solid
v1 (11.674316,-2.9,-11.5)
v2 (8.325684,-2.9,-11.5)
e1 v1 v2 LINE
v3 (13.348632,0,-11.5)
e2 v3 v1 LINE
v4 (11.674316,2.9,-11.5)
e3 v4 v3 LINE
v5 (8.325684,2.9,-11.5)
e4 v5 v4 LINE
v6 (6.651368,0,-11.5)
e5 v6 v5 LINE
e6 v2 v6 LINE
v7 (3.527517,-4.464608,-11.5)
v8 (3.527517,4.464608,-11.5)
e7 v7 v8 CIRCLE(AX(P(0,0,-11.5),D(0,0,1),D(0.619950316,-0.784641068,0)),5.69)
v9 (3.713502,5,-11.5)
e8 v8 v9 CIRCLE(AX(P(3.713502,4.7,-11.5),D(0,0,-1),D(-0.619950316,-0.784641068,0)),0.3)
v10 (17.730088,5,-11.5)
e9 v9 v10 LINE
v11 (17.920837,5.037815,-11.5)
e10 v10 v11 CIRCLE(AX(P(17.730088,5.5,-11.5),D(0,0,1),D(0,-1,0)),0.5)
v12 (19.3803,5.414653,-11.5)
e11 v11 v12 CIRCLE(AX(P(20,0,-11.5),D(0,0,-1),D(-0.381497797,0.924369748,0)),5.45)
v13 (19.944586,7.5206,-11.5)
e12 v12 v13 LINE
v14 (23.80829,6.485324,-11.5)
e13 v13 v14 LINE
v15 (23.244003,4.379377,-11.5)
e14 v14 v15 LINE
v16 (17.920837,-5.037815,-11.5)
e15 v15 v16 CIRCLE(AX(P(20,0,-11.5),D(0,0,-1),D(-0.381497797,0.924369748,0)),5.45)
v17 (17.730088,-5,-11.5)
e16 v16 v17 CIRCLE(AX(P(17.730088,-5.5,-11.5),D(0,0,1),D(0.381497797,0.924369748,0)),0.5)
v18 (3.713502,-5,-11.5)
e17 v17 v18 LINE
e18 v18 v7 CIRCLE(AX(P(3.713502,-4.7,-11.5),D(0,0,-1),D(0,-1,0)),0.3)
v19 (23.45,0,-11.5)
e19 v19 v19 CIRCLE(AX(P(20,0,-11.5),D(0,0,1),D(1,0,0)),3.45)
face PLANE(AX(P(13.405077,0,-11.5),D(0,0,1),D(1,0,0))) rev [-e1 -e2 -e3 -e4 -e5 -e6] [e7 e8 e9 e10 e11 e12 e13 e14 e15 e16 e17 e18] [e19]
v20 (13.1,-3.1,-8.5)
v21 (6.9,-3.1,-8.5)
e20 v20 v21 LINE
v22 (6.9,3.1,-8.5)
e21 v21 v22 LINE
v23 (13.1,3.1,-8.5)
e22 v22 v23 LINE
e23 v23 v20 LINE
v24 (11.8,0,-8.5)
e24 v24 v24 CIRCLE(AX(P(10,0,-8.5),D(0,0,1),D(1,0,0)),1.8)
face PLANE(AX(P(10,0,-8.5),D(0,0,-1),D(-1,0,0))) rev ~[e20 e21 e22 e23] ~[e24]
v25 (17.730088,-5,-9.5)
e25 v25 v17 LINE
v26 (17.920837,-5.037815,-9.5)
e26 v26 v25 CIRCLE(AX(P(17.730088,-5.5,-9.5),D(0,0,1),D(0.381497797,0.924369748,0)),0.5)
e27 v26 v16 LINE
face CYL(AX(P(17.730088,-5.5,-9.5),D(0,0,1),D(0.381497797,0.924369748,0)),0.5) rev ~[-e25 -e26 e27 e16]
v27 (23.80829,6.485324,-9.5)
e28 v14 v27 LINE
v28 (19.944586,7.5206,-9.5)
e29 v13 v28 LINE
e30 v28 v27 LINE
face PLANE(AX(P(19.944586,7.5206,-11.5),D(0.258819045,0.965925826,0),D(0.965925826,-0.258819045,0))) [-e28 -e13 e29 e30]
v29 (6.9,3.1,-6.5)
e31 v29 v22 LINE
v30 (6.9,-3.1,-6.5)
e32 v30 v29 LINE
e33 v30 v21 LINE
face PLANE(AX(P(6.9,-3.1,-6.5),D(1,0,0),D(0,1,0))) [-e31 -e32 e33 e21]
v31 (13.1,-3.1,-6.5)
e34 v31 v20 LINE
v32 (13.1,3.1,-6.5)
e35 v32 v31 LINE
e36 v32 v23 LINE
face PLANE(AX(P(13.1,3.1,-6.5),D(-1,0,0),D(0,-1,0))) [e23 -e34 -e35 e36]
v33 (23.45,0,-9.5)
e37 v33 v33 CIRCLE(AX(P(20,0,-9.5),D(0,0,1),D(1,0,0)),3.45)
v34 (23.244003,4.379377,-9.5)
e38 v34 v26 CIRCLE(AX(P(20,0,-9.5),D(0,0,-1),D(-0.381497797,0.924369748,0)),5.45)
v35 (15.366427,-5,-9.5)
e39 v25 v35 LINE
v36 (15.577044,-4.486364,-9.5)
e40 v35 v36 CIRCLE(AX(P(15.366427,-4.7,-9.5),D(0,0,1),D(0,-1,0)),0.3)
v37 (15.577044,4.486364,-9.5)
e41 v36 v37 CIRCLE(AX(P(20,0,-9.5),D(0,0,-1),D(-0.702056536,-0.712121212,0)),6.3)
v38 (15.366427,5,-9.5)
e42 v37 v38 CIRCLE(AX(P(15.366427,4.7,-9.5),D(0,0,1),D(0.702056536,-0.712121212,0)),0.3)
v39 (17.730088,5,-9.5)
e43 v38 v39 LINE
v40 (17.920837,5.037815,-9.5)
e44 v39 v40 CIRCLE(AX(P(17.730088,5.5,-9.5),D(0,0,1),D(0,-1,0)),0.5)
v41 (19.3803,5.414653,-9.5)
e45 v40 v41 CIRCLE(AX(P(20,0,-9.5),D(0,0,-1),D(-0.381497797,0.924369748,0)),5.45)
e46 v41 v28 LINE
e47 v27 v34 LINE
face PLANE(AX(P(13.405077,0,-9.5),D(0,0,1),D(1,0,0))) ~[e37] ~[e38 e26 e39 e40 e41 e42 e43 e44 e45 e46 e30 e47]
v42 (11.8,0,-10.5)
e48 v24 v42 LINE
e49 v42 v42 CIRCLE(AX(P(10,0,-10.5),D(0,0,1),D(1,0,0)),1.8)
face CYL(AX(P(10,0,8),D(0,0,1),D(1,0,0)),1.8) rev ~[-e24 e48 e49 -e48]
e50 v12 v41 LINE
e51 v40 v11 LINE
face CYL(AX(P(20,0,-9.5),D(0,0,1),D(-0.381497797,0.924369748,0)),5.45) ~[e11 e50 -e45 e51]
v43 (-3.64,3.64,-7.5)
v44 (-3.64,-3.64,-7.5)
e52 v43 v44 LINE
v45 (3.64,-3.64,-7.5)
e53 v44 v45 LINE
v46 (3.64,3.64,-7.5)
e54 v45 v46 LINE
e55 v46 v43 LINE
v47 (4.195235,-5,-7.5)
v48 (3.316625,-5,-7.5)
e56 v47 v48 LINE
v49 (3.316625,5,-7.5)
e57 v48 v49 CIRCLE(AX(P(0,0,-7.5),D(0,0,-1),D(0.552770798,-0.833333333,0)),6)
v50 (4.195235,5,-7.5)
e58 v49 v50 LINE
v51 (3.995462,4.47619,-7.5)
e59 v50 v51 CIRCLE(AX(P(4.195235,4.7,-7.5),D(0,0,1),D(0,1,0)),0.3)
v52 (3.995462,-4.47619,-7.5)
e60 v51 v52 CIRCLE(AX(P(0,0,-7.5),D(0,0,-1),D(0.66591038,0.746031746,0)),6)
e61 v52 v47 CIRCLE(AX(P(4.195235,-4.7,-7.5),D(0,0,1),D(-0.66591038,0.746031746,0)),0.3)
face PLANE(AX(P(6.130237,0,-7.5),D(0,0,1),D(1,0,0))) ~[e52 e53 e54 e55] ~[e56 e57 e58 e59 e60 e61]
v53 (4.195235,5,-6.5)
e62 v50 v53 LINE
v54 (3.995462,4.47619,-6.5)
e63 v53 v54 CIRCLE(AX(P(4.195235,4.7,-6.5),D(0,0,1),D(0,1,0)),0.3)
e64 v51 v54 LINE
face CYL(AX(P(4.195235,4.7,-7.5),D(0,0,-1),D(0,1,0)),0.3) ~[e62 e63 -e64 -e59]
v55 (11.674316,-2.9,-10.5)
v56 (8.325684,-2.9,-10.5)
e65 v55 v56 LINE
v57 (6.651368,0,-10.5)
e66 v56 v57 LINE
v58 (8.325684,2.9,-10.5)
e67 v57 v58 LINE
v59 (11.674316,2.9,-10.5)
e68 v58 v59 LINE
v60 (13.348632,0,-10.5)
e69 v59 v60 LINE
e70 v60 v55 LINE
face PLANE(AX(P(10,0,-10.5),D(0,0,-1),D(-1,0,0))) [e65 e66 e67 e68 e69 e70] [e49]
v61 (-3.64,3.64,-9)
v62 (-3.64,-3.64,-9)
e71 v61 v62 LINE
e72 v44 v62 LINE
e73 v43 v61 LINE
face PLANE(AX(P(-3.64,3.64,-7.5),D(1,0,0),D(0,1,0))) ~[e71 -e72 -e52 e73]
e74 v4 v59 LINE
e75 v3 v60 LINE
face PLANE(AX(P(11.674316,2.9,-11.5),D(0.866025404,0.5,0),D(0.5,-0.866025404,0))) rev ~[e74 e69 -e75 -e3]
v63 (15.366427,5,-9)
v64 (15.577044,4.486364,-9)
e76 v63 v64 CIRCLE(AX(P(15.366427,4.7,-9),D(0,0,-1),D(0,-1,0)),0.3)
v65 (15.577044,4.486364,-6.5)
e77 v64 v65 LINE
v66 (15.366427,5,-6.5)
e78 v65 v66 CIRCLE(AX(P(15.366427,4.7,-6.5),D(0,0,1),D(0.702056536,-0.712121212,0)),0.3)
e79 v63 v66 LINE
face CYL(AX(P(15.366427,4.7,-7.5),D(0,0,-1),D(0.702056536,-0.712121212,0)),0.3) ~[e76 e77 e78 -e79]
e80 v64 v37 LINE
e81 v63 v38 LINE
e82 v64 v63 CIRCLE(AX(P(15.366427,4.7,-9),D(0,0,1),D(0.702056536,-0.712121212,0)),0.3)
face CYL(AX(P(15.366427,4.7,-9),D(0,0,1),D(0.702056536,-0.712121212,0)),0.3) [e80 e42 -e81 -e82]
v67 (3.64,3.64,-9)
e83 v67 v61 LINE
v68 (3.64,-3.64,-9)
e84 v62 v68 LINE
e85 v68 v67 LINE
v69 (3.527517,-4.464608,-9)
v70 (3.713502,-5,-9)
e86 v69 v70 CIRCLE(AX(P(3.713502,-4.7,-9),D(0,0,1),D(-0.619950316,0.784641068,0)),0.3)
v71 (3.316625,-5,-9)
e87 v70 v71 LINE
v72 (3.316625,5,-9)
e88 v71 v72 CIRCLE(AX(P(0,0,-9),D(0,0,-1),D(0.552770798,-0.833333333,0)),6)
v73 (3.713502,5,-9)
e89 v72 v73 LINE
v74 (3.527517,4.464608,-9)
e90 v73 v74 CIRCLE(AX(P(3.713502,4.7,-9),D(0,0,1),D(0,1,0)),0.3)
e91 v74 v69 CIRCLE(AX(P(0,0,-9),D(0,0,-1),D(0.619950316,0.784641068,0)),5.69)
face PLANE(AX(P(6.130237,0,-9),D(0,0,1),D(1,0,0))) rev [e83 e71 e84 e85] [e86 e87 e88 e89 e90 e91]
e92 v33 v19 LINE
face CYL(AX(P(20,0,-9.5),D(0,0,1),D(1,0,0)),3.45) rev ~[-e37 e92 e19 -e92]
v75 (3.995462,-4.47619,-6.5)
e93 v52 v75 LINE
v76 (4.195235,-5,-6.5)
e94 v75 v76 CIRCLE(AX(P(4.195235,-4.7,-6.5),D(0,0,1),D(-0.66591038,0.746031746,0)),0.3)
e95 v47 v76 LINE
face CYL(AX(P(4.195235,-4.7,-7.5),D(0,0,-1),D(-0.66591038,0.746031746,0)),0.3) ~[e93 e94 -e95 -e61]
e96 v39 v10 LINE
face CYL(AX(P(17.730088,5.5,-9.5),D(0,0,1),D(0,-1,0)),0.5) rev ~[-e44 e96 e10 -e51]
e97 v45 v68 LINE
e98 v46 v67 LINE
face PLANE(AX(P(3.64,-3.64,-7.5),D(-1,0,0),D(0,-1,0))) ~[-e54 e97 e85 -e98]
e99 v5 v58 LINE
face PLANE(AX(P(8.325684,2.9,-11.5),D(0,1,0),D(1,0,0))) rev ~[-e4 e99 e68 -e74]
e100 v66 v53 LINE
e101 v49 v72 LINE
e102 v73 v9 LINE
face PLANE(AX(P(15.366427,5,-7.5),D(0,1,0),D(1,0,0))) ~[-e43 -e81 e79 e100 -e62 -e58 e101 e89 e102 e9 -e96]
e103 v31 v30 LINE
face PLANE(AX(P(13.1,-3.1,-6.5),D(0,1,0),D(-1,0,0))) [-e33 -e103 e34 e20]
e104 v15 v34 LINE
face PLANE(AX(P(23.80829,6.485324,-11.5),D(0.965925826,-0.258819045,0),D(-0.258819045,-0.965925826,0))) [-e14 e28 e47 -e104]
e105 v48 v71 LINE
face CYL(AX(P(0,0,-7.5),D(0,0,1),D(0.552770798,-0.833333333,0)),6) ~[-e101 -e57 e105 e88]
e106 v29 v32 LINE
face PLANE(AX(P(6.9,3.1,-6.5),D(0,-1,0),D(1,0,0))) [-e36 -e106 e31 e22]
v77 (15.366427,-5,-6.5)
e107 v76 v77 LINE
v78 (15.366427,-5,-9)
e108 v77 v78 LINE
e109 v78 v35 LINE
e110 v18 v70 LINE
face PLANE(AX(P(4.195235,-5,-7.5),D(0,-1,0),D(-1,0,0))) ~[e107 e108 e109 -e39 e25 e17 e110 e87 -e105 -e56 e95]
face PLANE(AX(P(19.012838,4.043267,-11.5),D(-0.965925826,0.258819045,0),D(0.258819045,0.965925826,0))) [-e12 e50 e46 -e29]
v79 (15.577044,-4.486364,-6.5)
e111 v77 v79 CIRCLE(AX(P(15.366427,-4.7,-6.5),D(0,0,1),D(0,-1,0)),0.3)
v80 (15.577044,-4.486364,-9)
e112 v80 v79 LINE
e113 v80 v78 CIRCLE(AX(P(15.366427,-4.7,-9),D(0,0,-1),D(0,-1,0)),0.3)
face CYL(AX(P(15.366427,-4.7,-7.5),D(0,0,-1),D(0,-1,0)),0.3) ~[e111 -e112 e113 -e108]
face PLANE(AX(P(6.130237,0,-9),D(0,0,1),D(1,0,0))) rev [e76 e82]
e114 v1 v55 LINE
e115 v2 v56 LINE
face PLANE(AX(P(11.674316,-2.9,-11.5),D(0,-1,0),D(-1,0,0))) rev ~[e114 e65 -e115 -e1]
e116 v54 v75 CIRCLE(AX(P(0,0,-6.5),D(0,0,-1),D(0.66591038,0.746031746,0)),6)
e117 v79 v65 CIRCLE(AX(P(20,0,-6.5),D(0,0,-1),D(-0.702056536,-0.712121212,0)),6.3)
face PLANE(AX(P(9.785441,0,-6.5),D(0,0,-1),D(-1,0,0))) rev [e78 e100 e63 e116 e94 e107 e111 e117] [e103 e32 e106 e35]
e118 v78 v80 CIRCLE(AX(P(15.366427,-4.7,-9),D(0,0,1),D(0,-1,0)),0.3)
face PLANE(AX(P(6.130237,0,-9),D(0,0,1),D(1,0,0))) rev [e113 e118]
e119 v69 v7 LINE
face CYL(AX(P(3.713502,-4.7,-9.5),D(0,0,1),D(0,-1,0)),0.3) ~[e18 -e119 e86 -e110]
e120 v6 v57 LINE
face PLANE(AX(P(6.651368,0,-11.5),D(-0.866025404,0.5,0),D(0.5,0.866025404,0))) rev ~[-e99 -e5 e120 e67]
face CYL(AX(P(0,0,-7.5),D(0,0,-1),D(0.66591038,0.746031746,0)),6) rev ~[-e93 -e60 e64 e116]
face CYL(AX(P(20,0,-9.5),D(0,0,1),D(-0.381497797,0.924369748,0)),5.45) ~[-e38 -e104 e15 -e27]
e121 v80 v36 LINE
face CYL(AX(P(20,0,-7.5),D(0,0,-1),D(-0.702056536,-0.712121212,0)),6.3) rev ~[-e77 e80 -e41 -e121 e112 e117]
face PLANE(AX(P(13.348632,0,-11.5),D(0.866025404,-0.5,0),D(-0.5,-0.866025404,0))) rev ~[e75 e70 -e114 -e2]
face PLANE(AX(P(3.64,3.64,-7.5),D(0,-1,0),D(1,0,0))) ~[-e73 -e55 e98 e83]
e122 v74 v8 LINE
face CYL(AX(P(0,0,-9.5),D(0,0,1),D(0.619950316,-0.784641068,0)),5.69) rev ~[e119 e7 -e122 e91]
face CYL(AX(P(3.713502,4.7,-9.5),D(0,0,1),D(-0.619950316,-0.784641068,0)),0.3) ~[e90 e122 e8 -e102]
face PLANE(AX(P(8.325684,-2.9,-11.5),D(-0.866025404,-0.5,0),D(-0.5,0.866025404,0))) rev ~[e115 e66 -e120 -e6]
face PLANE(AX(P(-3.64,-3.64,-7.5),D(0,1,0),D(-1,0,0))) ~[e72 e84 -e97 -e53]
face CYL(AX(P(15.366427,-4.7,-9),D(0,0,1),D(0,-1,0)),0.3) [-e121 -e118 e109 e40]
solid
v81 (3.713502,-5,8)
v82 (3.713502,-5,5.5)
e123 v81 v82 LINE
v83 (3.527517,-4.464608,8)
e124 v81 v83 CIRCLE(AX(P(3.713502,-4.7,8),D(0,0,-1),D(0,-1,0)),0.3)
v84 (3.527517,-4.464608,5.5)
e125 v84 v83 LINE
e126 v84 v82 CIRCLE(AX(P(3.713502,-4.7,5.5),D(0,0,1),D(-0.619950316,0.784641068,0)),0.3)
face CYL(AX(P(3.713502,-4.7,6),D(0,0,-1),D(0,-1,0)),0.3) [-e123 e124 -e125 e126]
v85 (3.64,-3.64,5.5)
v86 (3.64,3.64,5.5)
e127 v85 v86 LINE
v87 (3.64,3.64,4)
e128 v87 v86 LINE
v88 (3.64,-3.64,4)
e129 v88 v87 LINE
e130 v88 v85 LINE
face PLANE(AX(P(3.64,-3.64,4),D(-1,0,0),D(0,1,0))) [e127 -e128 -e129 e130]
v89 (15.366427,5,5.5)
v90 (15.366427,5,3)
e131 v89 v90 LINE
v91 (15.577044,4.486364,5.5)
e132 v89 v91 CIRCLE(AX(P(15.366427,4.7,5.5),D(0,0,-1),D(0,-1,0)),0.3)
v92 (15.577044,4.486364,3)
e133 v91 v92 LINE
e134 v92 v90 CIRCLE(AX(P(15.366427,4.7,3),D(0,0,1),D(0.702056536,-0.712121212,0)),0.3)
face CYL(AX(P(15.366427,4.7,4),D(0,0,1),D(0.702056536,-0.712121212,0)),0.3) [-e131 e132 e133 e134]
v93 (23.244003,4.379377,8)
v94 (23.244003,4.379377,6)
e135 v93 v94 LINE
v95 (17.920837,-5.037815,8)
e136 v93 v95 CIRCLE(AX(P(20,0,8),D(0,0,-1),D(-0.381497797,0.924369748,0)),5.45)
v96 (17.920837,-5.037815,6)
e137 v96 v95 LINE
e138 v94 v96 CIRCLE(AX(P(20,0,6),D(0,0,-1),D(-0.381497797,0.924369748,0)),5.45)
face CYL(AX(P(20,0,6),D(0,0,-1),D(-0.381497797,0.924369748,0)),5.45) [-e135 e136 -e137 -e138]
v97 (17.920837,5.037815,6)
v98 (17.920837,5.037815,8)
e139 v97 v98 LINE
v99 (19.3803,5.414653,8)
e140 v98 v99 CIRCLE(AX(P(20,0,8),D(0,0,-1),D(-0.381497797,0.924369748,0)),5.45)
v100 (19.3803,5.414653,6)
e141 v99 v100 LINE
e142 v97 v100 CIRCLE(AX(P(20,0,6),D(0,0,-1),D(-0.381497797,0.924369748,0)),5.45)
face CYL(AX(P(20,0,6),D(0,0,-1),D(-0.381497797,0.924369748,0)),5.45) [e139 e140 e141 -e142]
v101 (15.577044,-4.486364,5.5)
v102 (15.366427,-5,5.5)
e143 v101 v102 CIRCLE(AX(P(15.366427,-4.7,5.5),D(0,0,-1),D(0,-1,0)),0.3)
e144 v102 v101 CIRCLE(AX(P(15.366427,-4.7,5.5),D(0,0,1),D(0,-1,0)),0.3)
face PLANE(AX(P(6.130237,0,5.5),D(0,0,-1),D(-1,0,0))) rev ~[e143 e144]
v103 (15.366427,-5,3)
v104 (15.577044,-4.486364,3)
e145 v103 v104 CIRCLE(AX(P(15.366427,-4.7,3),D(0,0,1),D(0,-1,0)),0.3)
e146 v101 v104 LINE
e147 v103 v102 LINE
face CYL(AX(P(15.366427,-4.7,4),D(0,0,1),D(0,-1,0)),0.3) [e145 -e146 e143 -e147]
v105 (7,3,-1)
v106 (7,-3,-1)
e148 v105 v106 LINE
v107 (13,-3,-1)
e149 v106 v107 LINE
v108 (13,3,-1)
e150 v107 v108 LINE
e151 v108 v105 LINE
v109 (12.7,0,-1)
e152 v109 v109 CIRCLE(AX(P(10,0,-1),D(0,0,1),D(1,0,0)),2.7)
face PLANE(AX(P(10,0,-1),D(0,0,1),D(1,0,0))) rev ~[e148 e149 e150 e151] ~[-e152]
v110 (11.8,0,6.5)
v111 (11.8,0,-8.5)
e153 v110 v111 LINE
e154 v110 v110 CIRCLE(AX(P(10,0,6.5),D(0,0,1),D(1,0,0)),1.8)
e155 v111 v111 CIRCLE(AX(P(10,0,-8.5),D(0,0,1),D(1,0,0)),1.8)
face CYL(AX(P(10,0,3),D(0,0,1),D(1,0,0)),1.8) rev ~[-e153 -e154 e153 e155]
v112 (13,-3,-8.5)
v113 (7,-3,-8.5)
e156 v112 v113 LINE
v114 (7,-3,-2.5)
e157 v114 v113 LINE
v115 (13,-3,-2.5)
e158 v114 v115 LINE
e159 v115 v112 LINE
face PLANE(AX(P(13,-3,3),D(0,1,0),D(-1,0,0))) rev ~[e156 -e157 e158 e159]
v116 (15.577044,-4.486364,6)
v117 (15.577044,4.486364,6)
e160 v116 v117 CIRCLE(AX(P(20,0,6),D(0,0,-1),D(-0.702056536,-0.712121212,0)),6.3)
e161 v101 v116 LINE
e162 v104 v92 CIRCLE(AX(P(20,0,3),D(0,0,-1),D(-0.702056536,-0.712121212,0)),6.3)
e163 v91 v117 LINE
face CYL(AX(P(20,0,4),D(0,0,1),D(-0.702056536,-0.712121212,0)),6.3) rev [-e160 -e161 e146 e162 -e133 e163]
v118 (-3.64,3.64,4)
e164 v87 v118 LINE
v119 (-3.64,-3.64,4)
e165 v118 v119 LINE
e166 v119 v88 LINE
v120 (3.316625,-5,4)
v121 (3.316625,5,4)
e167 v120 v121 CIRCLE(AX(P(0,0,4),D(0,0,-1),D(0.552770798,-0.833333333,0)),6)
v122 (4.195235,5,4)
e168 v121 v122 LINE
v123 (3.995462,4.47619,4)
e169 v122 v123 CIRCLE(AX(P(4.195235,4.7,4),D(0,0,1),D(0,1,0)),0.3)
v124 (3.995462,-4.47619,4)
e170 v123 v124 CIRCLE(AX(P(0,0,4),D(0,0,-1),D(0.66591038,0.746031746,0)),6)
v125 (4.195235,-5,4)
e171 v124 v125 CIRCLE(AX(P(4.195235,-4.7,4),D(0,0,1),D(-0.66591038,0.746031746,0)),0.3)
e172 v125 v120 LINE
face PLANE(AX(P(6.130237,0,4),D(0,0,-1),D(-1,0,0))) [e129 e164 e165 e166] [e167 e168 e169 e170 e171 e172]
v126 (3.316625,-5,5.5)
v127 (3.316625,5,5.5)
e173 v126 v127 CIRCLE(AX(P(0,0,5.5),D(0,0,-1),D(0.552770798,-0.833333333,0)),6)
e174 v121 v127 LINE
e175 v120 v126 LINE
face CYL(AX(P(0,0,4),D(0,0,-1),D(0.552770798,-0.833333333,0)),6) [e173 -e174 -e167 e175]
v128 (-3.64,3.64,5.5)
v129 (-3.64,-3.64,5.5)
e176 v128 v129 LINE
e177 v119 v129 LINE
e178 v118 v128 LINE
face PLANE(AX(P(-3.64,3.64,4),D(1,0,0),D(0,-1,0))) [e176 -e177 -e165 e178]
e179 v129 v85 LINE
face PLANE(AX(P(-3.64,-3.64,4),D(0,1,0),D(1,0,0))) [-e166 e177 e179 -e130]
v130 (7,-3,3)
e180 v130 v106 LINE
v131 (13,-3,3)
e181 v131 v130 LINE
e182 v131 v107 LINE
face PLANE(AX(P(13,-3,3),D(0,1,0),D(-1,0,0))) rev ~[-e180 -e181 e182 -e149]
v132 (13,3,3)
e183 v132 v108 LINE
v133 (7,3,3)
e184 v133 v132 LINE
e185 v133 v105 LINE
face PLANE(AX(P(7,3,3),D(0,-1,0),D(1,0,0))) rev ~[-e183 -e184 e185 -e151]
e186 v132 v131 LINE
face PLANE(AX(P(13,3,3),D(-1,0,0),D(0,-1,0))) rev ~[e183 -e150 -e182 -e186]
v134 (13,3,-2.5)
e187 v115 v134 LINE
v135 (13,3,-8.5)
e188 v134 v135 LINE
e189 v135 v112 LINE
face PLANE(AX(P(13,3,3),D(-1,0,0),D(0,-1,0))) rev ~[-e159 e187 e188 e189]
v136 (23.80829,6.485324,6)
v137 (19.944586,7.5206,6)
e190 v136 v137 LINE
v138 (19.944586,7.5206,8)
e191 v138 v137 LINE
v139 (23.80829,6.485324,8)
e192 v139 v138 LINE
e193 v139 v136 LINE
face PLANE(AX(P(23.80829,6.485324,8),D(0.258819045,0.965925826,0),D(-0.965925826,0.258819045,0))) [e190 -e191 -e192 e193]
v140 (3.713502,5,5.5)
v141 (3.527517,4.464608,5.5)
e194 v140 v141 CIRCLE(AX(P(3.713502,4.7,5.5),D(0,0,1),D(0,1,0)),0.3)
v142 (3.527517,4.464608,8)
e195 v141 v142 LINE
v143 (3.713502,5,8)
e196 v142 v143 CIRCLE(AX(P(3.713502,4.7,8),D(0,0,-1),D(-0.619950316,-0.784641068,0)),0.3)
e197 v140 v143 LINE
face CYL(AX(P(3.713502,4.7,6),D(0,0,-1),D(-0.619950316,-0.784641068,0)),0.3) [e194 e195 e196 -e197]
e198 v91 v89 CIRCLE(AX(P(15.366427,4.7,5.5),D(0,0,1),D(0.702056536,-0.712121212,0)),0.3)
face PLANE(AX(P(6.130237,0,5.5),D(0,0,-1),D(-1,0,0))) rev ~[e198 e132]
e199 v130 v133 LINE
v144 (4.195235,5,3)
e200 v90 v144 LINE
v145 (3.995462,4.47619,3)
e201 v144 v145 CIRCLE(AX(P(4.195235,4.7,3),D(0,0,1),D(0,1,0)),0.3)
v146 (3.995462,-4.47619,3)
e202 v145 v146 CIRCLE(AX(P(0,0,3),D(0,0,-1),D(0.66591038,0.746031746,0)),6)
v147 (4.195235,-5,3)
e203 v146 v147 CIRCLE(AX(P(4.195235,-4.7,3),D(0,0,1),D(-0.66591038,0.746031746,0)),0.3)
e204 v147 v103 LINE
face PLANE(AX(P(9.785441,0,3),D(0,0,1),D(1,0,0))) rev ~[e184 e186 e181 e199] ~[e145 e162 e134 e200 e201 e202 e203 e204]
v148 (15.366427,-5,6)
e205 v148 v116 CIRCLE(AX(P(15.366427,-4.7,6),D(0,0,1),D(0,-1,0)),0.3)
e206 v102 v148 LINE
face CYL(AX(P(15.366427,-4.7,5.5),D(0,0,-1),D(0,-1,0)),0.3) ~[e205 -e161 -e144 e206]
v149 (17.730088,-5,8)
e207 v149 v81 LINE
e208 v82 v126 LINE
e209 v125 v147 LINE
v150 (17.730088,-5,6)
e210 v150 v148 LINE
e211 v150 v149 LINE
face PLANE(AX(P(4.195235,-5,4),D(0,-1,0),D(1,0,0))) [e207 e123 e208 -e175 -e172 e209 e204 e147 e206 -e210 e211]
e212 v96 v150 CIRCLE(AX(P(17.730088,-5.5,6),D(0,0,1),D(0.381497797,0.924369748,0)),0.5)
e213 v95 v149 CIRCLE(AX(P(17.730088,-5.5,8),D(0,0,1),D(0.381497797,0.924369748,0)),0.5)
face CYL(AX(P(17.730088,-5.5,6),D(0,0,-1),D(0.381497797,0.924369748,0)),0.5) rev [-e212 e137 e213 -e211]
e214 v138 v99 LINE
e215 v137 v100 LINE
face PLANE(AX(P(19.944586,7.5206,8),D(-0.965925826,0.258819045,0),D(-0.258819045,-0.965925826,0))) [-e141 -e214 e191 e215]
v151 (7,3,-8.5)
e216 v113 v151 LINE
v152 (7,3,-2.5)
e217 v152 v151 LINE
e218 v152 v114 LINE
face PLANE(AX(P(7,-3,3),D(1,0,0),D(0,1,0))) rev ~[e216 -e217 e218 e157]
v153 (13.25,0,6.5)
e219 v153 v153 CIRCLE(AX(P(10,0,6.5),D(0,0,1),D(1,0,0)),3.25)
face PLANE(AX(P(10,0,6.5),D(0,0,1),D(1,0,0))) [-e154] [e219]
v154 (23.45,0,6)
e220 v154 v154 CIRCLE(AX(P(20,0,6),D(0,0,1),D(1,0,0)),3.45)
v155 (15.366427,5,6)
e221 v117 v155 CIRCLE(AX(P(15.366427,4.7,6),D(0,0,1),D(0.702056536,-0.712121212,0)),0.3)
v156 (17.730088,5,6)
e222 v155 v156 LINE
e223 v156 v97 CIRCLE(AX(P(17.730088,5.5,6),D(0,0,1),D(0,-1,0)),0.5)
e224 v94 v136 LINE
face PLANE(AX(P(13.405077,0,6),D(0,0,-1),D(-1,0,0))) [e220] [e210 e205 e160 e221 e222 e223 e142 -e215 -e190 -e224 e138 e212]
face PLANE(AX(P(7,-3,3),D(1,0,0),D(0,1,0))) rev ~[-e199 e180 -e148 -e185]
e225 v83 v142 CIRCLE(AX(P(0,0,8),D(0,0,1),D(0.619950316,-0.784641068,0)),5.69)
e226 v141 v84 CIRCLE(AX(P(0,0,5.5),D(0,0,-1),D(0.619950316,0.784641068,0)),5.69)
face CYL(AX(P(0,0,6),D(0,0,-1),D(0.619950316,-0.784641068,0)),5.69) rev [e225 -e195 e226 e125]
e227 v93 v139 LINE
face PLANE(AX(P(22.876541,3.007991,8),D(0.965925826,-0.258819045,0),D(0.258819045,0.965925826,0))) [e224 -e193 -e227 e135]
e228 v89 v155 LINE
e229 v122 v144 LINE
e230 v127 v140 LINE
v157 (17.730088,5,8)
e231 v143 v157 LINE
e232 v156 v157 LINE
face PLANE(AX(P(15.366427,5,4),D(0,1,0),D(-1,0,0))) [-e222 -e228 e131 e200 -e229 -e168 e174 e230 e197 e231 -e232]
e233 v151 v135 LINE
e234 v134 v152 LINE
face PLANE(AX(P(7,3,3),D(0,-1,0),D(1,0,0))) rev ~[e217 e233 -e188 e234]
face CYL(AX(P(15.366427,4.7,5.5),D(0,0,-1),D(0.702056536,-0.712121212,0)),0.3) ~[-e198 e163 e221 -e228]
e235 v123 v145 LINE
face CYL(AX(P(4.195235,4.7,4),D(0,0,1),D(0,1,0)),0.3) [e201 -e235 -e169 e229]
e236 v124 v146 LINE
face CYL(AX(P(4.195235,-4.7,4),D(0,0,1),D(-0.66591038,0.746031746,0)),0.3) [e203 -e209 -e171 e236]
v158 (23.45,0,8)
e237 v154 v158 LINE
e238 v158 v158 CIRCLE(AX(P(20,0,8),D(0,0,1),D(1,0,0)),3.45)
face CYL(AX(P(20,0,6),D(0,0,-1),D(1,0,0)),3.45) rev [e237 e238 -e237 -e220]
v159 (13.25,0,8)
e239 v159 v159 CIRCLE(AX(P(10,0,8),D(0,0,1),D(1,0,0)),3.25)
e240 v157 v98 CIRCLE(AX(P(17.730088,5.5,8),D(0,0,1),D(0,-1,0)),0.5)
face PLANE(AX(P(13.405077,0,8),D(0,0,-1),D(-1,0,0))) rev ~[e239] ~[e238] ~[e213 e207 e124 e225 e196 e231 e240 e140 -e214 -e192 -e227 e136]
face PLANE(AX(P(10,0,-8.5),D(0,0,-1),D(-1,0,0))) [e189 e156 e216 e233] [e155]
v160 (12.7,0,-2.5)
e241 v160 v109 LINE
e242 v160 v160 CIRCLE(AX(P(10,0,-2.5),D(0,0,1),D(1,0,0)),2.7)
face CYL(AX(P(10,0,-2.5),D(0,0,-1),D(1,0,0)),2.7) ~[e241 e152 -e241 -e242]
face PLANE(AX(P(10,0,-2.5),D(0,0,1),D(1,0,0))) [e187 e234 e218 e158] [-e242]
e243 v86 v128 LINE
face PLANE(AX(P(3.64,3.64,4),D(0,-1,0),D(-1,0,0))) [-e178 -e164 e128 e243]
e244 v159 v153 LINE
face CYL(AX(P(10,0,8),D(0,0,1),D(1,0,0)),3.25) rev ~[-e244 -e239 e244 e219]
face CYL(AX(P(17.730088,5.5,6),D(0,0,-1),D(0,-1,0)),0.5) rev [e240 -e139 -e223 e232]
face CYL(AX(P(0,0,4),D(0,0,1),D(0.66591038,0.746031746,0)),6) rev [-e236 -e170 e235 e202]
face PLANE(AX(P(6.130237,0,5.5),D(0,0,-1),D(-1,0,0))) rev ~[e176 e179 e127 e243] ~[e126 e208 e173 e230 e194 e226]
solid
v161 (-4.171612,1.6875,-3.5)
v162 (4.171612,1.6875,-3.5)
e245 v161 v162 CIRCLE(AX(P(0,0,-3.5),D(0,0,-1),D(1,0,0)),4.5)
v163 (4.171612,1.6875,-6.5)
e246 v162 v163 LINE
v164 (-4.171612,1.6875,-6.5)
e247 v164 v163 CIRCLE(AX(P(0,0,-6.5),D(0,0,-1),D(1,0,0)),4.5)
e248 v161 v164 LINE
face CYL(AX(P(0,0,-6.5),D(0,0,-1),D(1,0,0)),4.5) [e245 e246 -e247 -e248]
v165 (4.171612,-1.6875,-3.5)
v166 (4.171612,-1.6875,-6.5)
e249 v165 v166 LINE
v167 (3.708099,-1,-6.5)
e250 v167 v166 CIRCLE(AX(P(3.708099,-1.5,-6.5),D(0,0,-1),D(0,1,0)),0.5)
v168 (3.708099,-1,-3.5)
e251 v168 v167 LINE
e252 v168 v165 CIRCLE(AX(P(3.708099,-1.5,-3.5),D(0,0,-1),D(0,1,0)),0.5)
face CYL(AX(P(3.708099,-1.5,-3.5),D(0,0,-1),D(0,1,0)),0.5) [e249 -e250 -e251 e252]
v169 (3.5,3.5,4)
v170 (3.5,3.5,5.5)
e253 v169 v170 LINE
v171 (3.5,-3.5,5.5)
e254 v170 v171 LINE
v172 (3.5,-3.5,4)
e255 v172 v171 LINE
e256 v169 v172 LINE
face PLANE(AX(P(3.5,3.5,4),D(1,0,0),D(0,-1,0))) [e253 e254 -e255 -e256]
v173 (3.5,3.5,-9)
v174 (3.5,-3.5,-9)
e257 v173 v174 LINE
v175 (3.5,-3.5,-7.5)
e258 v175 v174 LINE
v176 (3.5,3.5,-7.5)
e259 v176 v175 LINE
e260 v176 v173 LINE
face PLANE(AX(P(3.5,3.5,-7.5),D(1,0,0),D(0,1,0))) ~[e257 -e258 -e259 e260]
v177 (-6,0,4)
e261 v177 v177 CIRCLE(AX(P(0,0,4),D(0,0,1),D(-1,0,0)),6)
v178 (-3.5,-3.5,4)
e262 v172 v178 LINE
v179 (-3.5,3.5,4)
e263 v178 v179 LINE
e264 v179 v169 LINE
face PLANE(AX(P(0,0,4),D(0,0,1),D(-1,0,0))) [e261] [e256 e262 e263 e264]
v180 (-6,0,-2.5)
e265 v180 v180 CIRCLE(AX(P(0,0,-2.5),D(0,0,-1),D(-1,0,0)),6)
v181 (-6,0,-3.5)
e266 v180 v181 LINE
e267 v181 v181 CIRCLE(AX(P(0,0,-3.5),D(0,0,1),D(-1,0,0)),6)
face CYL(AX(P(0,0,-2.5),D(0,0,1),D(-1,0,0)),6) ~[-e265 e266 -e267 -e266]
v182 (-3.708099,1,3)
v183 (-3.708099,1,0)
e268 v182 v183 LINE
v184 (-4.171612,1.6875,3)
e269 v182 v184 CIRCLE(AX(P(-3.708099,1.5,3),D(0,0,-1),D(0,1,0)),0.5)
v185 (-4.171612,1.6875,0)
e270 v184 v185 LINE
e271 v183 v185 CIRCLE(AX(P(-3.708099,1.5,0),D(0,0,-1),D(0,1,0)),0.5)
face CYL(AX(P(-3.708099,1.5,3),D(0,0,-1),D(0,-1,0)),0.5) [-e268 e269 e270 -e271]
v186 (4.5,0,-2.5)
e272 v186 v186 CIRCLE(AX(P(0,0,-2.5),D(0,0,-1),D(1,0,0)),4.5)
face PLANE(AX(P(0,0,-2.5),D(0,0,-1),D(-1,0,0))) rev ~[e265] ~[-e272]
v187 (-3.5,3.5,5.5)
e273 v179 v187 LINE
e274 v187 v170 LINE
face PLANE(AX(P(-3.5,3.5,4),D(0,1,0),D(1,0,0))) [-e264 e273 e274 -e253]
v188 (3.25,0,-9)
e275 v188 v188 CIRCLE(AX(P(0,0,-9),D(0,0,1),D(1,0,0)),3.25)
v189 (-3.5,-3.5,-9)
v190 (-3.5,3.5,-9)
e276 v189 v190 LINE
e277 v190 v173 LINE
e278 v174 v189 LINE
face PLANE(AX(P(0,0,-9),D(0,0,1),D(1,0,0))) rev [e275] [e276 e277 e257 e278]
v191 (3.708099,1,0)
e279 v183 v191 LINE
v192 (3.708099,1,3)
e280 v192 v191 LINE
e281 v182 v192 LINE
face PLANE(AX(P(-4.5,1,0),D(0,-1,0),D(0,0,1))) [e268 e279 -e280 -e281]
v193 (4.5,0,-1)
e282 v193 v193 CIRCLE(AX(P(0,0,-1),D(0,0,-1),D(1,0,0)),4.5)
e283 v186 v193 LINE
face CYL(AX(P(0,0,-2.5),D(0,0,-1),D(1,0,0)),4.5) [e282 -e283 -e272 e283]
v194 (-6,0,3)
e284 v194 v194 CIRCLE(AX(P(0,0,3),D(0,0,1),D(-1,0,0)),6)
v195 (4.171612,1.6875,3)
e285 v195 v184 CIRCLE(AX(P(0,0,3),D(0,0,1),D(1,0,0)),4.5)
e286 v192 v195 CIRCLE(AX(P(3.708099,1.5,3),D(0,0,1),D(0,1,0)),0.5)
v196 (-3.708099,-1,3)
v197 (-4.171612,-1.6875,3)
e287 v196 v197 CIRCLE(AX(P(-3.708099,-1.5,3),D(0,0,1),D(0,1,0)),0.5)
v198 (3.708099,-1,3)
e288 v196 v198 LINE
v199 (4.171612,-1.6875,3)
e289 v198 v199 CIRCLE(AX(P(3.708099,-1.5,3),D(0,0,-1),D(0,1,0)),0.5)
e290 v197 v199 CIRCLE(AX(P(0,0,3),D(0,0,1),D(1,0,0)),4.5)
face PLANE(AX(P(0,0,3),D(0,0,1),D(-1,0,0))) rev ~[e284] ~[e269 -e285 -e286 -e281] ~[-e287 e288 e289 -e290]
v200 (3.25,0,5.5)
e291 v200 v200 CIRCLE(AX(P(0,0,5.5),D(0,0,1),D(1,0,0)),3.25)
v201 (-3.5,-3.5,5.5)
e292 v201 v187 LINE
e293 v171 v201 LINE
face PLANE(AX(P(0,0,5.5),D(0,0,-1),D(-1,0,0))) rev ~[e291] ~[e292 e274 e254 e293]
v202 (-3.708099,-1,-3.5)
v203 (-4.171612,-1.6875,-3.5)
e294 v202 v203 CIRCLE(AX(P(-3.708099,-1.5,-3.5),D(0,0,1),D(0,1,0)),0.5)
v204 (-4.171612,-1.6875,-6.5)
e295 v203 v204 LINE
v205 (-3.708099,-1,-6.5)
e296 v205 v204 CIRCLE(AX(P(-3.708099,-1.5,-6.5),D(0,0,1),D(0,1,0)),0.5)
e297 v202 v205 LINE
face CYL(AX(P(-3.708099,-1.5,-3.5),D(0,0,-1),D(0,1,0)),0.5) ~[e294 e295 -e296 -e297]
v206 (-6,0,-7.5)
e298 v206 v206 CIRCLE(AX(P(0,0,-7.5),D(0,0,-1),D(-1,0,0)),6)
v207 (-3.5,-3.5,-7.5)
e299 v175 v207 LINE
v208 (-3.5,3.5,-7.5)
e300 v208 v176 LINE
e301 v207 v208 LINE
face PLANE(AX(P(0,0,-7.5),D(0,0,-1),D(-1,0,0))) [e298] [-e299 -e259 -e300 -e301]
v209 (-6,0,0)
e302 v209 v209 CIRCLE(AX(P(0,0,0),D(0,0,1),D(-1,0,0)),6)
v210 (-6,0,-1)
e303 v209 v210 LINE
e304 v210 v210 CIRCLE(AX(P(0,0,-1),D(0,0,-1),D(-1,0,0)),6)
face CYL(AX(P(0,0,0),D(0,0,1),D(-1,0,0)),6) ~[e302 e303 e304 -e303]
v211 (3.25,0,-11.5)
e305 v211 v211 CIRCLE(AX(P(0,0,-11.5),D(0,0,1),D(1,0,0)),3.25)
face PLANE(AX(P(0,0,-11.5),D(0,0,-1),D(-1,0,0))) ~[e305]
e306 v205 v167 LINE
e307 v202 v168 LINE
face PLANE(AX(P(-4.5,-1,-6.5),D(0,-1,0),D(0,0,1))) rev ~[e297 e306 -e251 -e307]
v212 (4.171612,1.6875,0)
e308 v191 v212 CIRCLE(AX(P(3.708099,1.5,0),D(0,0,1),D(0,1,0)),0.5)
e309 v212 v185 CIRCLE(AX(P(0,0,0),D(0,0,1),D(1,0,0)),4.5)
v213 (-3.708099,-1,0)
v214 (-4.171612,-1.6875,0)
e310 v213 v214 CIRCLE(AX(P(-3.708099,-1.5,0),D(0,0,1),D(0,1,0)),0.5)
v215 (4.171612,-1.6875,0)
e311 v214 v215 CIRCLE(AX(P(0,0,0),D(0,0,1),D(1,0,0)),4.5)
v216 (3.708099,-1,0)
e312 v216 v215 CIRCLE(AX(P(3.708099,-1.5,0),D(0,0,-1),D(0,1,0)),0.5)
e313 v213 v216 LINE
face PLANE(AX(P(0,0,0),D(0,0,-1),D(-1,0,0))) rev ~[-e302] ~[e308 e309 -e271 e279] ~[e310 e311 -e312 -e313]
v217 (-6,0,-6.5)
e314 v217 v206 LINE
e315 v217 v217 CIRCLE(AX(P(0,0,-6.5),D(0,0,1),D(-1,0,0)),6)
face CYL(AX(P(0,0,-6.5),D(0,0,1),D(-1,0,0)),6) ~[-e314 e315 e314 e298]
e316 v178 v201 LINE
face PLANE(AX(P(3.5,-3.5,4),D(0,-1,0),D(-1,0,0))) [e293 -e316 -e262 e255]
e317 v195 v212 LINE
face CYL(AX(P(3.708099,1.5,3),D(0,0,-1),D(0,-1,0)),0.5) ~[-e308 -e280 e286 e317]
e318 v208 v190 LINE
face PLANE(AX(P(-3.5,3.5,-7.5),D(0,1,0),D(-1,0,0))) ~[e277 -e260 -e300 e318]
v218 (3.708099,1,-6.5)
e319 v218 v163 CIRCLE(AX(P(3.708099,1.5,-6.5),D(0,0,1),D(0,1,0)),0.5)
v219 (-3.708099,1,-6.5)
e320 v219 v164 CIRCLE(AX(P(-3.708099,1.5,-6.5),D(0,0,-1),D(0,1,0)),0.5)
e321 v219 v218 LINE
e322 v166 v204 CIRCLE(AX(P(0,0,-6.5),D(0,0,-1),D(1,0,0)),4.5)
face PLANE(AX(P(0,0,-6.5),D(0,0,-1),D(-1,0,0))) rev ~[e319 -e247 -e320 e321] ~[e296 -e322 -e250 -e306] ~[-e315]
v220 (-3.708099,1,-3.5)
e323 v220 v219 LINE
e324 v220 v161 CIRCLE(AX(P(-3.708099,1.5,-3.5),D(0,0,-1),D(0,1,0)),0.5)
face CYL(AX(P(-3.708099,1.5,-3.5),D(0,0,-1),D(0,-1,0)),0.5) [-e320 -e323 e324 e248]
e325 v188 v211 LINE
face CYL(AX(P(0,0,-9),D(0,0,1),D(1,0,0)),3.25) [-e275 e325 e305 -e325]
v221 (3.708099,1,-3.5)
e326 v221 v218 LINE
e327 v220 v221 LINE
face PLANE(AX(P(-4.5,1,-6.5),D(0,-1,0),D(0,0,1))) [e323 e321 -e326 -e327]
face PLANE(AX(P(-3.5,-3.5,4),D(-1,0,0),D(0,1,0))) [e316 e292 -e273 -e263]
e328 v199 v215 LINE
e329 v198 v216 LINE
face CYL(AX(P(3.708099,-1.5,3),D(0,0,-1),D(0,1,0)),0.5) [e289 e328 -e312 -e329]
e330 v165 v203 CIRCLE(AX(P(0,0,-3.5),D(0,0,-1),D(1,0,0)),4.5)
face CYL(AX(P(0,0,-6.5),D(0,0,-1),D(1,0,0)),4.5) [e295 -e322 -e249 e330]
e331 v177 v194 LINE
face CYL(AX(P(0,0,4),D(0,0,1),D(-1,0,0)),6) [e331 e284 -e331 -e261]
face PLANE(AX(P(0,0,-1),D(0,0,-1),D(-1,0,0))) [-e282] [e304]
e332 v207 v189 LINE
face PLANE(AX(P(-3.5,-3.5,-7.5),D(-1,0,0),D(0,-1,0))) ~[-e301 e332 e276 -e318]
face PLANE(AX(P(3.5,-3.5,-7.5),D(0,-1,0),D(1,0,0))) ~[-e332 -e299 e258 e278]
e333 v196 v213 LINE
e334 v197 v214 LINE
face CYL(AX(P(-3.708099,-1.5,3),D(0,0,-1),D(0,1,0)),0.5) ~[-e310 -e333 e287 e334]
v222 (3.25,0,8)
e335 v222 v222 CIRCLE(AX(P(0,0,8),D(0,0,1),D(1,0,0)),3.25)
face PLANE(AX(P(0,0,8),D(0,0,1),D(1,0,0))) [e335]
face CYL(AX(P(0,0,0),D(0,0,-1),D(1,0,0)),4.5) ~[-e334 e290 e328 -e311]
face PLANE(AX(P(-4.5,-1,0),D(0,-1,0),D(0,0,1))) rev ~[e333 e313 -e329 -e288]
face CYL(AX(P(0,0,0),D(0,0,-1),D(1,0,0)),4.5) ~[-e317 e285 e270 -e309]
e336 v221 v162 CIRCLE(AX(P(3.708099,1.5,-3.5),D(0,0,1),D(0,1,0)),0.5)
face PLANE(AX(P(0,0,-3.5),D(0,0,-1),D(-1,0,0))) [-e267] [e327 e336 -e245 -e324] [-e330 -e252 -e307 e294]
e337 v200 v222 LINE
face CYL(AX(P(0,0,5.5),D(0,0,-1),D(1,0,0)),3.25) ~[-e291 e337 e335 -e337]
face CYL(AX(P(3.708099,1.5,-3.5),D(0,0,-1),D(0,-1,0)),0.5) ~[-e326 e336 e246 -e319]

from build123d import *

# Parameters (mm, degrees)
SKETCH_1_R               = 4.5
EXTRUDE_1_DEPTH          = 3
SKETCH_2_R               = 6
EXTRUDE_2_DEPTH          = 1
EXTRUDE_START            = 1.5
SKETCH_3_R               = 4.5
EXTRUDE_3_DEPTH          = 1.5
SKETCH_4_R               = 6.000000000000001
EXTRUDE_4_DEPTH          = 1
EXTRUDE_START_2          = 3
SKETCH_5_R               = 4.5
EXTRUDE_5_DEPTH          = 3
SKETCH_6_R               = 6.000000000000001
EXTRUDE_6_DEPTH          = 1
EXTRUDE_START_3          = 1
SKETCH_7_R               = 6.000000000000001
EXTRUDE_7_DEPTH          = 1
EXTRUDE_10_DEPTH         = 1.5
SKETCH_11_R              = 3.25
EXTRUDE_11_DEPTH         = 2.5
EXTRUDE_12_DEPTH         = 1.5
EXTRUDE_13_DEPTH         = 0.5
FILLET_9_R               = 0.3
SKETCH_14_R              = 3.450000000000003
EXTRUDE_14_DEPTH         = 2
EXTRUDE_15_DEPTH         = 1
SKETCH_16_R              = 1.799999999999999
CUT_EXTRUDE_1_DEPTH      = 33.61828474950821
CUT_EXTRUDE_2_DEPTH      = 2
EXTRUDE_16_DEPTH         = 11.5
SKETCH_19_R              = 1.799999999999999
CUT_EXTRUDE_3_DEPTH      = 30.89903844607716
CUT_EXTRUDE_4_DEPTH      = 0.75
CUT_EXTRUDE_4_DEPTH_BACK = 0.75
SKETCH_20_R              = 2.6999999999999993
SKETCH_21_R              = 3.2500000000000027
CUT_EXTRUDE_5_DEPTH      = 1.5
CUT_EXTRUDE_6_DEPTH      = 1
EXTRUDE_17_DEPTH         = 2
EXTRUDE_18_DEPTH         = 2
SKETCH_25_W              = 3.0000000000000013
SKETCH_25_H              = 2
SKETCH_25_W_2            = 3
CUT_EXTRUDE_7_DEPTH      = 33.95166049436114
FILLET_10_R              = 0.5


with BuildPart() as part:
    # ｽｹｯﾁ1 → ﾎﾞｽ - 押し出し1 (new body)
    with BuildSketch(Plane.XY):
        Circle(SKETCH_1_R)
    extrude(amount=EXTRUDE_1_DEPTH)

    # ｽｹｯﾁ2 → ﾎﾞｽ - 押し出し2 (add)
    with BuildSketch(Plane(origin=(0, 0, 0), x_dir=(-1, 0, 0), z_dir=(0, 0, -1))):
        Circle(SKETCH_2_R)
    extrude(amount=EXTRUDE_2_DEPTH)

    # ｽｹｯﾁ3 → ﾎﾞｽ - 押し出し3 (add)
    with BuildSketch(Plane(origin=(0, 0, -1), x_dir=(-1, 0, 0), z_dir=(0, 0, -1)).offset(EXTRUDE_START)):
        with Locations(Location((0, 0, 0), (0, 0, 180))):
            Circle(SKETCH_3_R)
    extrude(amount=-EXTRUDE_3_DEPTH)

    # ｽｹｯﾁ4 → ﾎﾞｽ - 押し出し4 (add)
    with BuildSketch(Plane(origin=(0, 0, -2.5), x_dir=(-1, 0, 0), z_dir=(0, 0, -1))):
        Circle(SKETCH_4_R)
    extrude(amount=EXTRUDE_4_DEPTH)

    # ｽｹｯﾁ5 → ﾎﾞｽ - 押し出し5 (add)
    with BuildSketch(Plane(origin=(0, 0, -3.5), x_dir=(-1, 0, 0), z_dir=(0, 0, -1)).offset(EXTRUDE_START_2)):
        with Locations(Location((0, 0, 0), (0, 0, 180))):
            Circle(SKETCH_5_R)
    extrude(amount=-EXTRUDE_5_DEPTH)

    # ｽｹｯﾁ6 → ﾎﾞｽ - 押し出し6 (add)
    with BuildSketch(Plane(origin=(0, 0, -6.500000000000001), x_dir=(-1, 0, 0), z_dir=(0, 0, -1))):
        Circle(SKETCH_6_R)
    extrude(amount=EXTRUDE_6_DEPTH)

    # ｽｹｯﾁ7 → ﾎﾞｽ - 押し出し7 (add)
    with BuildSketch(Plane.XY.offset(3).offset(EXTRUDE_START_3)):
        with Locations(Location((0, 0, 0), (0, 0, 180))):
            Circle(SKETCH_7_R)
    extrude(amount=-EXTRUDE_7_DEPTH)

    # ｽｹｯﾁ10 → ﾎﾞｽ - 押し出し10 (add)
    with BuildSketch(Plane.XY.offset(4)):
        Polygon((3.4999999999999996, -3.5), (-3.5000000000000004, -3.500000000000001), (-3.5000000000000004, 3.5000000000000004), (3.4999999999999996, 3.5), align=None)
    extrude_10 = extrude(amount=EXTRUDE_10_DEPTH)

    # ｽｹｯﾁ11 → ﾎﾞｽ - 押し出し11 (add)
    with BuildSketch(Plane.XY.offset(5.5)):
        Circle(SKETCH_11_R)
    extrude_11 = extrude(amount=EXTRUDE_11_DEPTH)

    # ﾐﾗｰ1: ﾎﾞｽ - 押し出し10, ﾎﾞｽ - 押し出し11 across plane
    add(extrude_10.mirror(Plane.XY.offset(-1.7500000000000002)))
    add(extrude_11.mirror(Plane.XY.offset(-1.7500000000000002)))

    # ｽｹｯﾁ25 → ｶｯﾄ - 押し出し7 (cut, through all)
    with BuildSketch(Plane.ZY.offset(4.5)):
        with Locations((-5.000000000000001, 0)):
            Rectangle(SKETCH_25_W, SKETCH_25_H)
        with Locations((1.5, 0)):
            Rectangle(SKETCH_25_W_2, SKETCH_25_H)
    extrude(amount=-CUT_EXTRUDE_7_DEPTH, mode=Mode.SUBTRACT)

    # ﾌｨﾚｯﾄ10
    fillet_10_edges = [part.edges().sort_by_distance(p)[0] for p in [
        (-4.387482193696061, 1, -5),
        (4.387482193696061, 1, -5),
        (4.387482193696061, -1, -5),
        (-4.387482193696061, -1, -5),
        (4.387482193696061, 1, 1.5),
        (-4.387482193696061, 1, 1.5),
        (-4.387482193696061, -1, 1.5),
        (4.387482193696061, -1, 1.5),
    ]]
    fillet(fillet_10_edges, radius=FILLET_10_R)


with BuildPart() as body_2:
    # ｽｹｯﾁ12 → ﾎﾞｽ - 押し出し12 (new body)
    with BuildSketch(Plane.XY.offset(4)):
        with BuildLine():
            Line((3.3166247903554016, 5), (16.167246420652642, 5))
            ThreePointArc((16.167246420652642, 5), (13.700000000000001, 3.57e-15), (16.16724642065264, -5))
            Line((16.16724642065264, -5), (3.3166247903553985, -5.000000000000003))
            ThreePointArc((3.3166247903553985, -5.000000000000003), (-6.000000000000001, 7.3e-16), (3.3166247903554016, 5))
        make_face()
        Polygon((3.6399999999999997, -3.64), (3.6399999999999997, 3.64), (-3.6400000000000006, 3.6400000000000006), (-3.6400000000000006, -3.640000000000001), align=None, mode=Mode.SUBTRACT)
    extrude(amount=EXTRUDE_12_DEPTH)

    # ｽｹｯﾁ13 → ﾎﾞｽ - 押し出し13 (add)
    with BuildSketch(Plane.XY.offset(5.5)):
        with BuildLine():
            Line((15.366426864718767, 5.000000000000001), (3.71350238992787, 4.999999999999999))
            ThreePointArc((3.71350238992787, 4.999999999999999), (3.4301142319534543, 4.798443648448575), (3.5275172952737197, 4.464607679465777))
            ThreePointArc((3.5275172952737197, 4.464607679465777), (5.69, 3.16e-15), (3.527517295273725, -4.464607679465773))
            ThreePointArc((3.527517295273725, -4.464607679465773), (3.4301142319534588, -4.798443648448569), (3.713502389927875, -4.9999999999999964))
            Line((3.713502389927875, -4.9999999999999964), (15.366426864718758, -4.999999999999996))
            ThreePointArc((15.366426864718758, -4.999999999999996), (15.643997494550977, -4.813818036595895), (15.57704382541336, -4.486363636363631))
            ThreePointArc((15.57704382541336, -4.486363636363631), (13.7, 6.37e-15), (15.577043825413366, 4.486363636363639))
            ThreePointArc((15.577043825413366, 4.486363636363639), (15.643997494550984, 4.813818036595901), (15.366426864718767, 5.000000000000001))
        make_face()
    extrude(amount=EXTRUDE_13_DEPTH)

    # ﾌｨﾚｯﾄ9
    fillet_9_edges = [body_2.edges().sort_by_distance(p)[0] for p in [
        (16.16724642065264, -5.000000000000001, 4.75),
        (16.167246420652642, 5, 4.75),
    ]]
    fillet(fillet_9_edges, radius=FILLET_9_R)

    # ｽｹｯﾁ14 → ﾎﾞｽ - 押し出し14 (add)
    with BuildSketch(Plane.XY.offset(6)):
        with BuildLine():
            Line((3.71350238992787, 5), (17.73008810743677, 5))
            ThreePointArc((17.73008810743677, 5), (17.827318665969592, 5.00954488636839), (17.920837005971492, 5.03781512605042))
            ThreePointArc((17.920837005971492, 5.03781512605042), (25.45, 2.42e-15), (17.920837005971496, -5.037815126050422))
            ThreePointArc((17.920837005971496, -5.037815126050422), (17.827318665969596, -5.009544886368393), (17.730088107436774, -5.000000000000003))
            Line((17.730088107436774, -5.000000000000003), (3.713502389927875, -5.000000000000003))
            ThreePointArc((3.713502389927875, -5.000000000000003), (3.430114231953458, -4.79844364844857), (3.5275172952737246, -4.4646076794657725))
            ThreePointArc((3.5275172952737246, -4.4646076794657725), (5.69, 3.16e-15), (3.52751729527372, 4.464607679465777))
            ThreePointArc((3.52751729527372, 4.464607679465777), (3.4301142319534534, 4.798443648448575), (3.71350238992787, 5))
        make_face()
        with Locations((20, 0)):
            Circle(SKETCH_14_R, mode=Mode.SUBTRACT)
    extrude(amount=EXTRUDE_14_DEPTH)

    # ｽｹｯﾁ15 → ﾎﾞｽ - 押し出し15 (add)
    with BuildSketch(Plane(origin=(0, 0, 4), x_dir=(-1, 0, 0), z_dir=(0, 0, -1))):
        with BuildLine():
            Line((-15.366426864718765, 5), (-4.195235392680607, 5.000000000000001))
            ThreePointArc((-4.195235392680607, 5.000000000000001), (-3.9149294373899135, 4.806904496764971), (-3.9954622787434353, 4.476190476190477))
            ThreePointArc((-3.9954622787434353, 4.476190476190477), (-6.000000000000001, 7.3e-16), (-3.9954622787434353, -4.476190476190477))
            ThreePointArc((-3.9954622787434353, -4.476190476190477), (-3.9149294373899135, -4.806904496764971), (-4.195235392680607, -5.000000000000001))
            Line((-4.195235392680607, -5.000000000000001), (-15.366426864718763, -5))
            ThreePointArc((-15.366426864718763, -5), (-15.643997494550984, -4.813818036595896), (-15.577043825413359, -4.48636363636363))
            ThreePointArc((-15.577043825413359, -4.48636363636363), (-13.700000000000001, 4.2e-15), (-15.577043825413364, 4.486363636363636))
            ThreePointArc((-15.577043825413364, 4.486363636363636), (-15.643997494550984, 4.813818036595898), (-15.366426864718765, 5))
        make_face()
    extrude(amount=EXTRUDE_15_DEPTH)


with BuildPart() as body_3:
    # ﾐﾗｰ2: mirrored copy
    add(body_2.part.mirror(Plane.XY.offset(-1.7500000000000002)))


with BuildPart() as cut_extrude_1_tool:
    # ｽｹｯﾁ16 → ｶｯﾄ - 押し出し1 (new, through all)
    with BuildSketch(Plane.XY.offset(8)):
        with Locations((10, 0)):
            Circle(SKETCH_16_R)
    extrude(amount=-CUT_EXTRUDE_1_DEPTH)


with BuildPart() as body_2_1:
    add(body_2.part)

    # ｶｯﾄ - 押し出し1: cut by cut_extrude_1_tool
    add(cut_extrude_1_tool.part, mode=Mode.SUBTRACT)

    # ｽｹｯﾁ18 → ﾎﾞｽ - 押し出し16 (add)
    with BuildSketch(Plane(origin=(0, 0, 3), x_dir=(-1, 0, 0), z_dir=(0, 0, -1))):
        Polygon((-7.000000000000002, 2.9999999999999996), (-13.000000000000002, 2.9999999999999987), (-13.000000000000002, -2.9999999999999996), (-7.000000000000002, -2.999999999999999), align=None)
    extrude(amount=EXTRUDE_16_DEPTH)

    # ｽｹｯﾁ19 → ｶｯﾄ - 押し出し3 (cut, through all)
    with BuildSketch(Plane.XY.offset(3)):
        with Locations((10, 0)):
            Circle(SKETCH_19_R)
    extrude(amount=-CUT_EXTRUDE_3_DEPTH, mode=Mode.SUBTRACT)

    # ｽｹｯﾁ20 → ｶｯﾄ - 押し出し4 (cut, two sides: drawn at the far end of the back side and taken through both)
    with BuildSketch(Plane.XY.offset(-1.7500000000000002).offset(-CUT_EXTRUDE_4_DEPTH_BACK)):
        Polygon((13.000000000000002, 2.9999999999999987), (7.000000000000002, 2.9999999999999996), (7.000000000000002, -2.999999999999999), (13.000000000000002, -2.9999999999999996), align=None)
        with Locations((10, 0)):
            Circle(SKETCH_20_R, mode=Mode.SUBTRACT)
    extrude(amount=CUT_EXTRUDE_4_DEPTH + CUT_EXTRUDE_4_DEPTH_BACK, mode=Mode.SUBTRACT)

    # ｽｹｯﾁ21 → ｶｯﾄ - 押し出し5 (cut)
    with BuildSketch(Plane.XY.offset(8)):
        with Locations((10, 0)):
            Circle(SKETCH_21_R)
    extrude(amount=-CUT_EXTRUDE_5_DEPTH, mode=Mode.SUBTRACT)

    # ｽｹｯﾁ23 → ﾎﾞｽ - 押し出し17 (add)
    with BuildSketch(Plane.XY.offset(8)):
        Polygon((19.01283786204607, 4.043267356160141), (22.87654116720234, 3.007991175750056), (23.808289729571417, 6.485324150390701), (19.944586424415146, 7.520600330800787), align=None)
    extrude(amount=-EXTRUDE_17_DEPTH)


with BuildPart() as body_3_1:
    add(body_3.part)

    # ｶｯﾄ - 押し出し1: cut by cut_extrude_1_tool
    add(cut_extrude_1_tool.part, mode=Mode.SUBTRACT)

    # ｽｹｯﾁ17 → ｶｯﾄ - 押し出し2 (cut)
    with BuildSketch(Plane.XY.offset(-6.500000000000001)):
        Polygon((13.100000000000001, -3.0999999999999996), (6.900000000000001, -3.1000000000000005), (6.900000000000001, 3.0999999999999996), (13.100000000000001, 3.1000000000000005), align=None)
    extrude(amount=-CUT_EXTRUDE_2_DEPTH, mode=Mode.SUBTRACT)

    # ｽｹｯﾁ22 → ｶｯﾄ - 押し出し6 (cut)
    with BuildSketch(Plane(origin=(0, 0, -11.5), x_dir=(-1, 0, 0), z_dir=(0, 0, -1))):
        Polygon((-11.674315780649914, 2.8999999999999995), (-13.348631561299829, 1e-17), (-11.674315780649913, -2.900000000000001), (-8.325684219350087, -2.9000000000000004), (-6.651368438700171, -8.7e-16), (-8.325684219350087, 2.9), align=None)
    extrude(amount=-CUT_EXTRUDE_6_DEPTH, mode=Mode.SUBTRACT)

    # ｽｹｯﾁ24 → ﾎﾞｽ - 押し出し18 (add)
    with BuildSketch(Plane(origin=(0, 0, -11.5), x_dir=(-1, 0, 0), z_dir=(0, 0, -1))):
        Polygon((-22.87654116720234, 3.007991175750056), (-19.01283786204607, 4.043267356160141), (-19.944586424415146, 7.520600330800787), (-23.808289729571417, 6.485324150390701), align=None)
    extrude(amount=-EXTRUDE_18_DEPTH)


solid = Compound([part.part, body_2_1.part, body_3_1.part])
